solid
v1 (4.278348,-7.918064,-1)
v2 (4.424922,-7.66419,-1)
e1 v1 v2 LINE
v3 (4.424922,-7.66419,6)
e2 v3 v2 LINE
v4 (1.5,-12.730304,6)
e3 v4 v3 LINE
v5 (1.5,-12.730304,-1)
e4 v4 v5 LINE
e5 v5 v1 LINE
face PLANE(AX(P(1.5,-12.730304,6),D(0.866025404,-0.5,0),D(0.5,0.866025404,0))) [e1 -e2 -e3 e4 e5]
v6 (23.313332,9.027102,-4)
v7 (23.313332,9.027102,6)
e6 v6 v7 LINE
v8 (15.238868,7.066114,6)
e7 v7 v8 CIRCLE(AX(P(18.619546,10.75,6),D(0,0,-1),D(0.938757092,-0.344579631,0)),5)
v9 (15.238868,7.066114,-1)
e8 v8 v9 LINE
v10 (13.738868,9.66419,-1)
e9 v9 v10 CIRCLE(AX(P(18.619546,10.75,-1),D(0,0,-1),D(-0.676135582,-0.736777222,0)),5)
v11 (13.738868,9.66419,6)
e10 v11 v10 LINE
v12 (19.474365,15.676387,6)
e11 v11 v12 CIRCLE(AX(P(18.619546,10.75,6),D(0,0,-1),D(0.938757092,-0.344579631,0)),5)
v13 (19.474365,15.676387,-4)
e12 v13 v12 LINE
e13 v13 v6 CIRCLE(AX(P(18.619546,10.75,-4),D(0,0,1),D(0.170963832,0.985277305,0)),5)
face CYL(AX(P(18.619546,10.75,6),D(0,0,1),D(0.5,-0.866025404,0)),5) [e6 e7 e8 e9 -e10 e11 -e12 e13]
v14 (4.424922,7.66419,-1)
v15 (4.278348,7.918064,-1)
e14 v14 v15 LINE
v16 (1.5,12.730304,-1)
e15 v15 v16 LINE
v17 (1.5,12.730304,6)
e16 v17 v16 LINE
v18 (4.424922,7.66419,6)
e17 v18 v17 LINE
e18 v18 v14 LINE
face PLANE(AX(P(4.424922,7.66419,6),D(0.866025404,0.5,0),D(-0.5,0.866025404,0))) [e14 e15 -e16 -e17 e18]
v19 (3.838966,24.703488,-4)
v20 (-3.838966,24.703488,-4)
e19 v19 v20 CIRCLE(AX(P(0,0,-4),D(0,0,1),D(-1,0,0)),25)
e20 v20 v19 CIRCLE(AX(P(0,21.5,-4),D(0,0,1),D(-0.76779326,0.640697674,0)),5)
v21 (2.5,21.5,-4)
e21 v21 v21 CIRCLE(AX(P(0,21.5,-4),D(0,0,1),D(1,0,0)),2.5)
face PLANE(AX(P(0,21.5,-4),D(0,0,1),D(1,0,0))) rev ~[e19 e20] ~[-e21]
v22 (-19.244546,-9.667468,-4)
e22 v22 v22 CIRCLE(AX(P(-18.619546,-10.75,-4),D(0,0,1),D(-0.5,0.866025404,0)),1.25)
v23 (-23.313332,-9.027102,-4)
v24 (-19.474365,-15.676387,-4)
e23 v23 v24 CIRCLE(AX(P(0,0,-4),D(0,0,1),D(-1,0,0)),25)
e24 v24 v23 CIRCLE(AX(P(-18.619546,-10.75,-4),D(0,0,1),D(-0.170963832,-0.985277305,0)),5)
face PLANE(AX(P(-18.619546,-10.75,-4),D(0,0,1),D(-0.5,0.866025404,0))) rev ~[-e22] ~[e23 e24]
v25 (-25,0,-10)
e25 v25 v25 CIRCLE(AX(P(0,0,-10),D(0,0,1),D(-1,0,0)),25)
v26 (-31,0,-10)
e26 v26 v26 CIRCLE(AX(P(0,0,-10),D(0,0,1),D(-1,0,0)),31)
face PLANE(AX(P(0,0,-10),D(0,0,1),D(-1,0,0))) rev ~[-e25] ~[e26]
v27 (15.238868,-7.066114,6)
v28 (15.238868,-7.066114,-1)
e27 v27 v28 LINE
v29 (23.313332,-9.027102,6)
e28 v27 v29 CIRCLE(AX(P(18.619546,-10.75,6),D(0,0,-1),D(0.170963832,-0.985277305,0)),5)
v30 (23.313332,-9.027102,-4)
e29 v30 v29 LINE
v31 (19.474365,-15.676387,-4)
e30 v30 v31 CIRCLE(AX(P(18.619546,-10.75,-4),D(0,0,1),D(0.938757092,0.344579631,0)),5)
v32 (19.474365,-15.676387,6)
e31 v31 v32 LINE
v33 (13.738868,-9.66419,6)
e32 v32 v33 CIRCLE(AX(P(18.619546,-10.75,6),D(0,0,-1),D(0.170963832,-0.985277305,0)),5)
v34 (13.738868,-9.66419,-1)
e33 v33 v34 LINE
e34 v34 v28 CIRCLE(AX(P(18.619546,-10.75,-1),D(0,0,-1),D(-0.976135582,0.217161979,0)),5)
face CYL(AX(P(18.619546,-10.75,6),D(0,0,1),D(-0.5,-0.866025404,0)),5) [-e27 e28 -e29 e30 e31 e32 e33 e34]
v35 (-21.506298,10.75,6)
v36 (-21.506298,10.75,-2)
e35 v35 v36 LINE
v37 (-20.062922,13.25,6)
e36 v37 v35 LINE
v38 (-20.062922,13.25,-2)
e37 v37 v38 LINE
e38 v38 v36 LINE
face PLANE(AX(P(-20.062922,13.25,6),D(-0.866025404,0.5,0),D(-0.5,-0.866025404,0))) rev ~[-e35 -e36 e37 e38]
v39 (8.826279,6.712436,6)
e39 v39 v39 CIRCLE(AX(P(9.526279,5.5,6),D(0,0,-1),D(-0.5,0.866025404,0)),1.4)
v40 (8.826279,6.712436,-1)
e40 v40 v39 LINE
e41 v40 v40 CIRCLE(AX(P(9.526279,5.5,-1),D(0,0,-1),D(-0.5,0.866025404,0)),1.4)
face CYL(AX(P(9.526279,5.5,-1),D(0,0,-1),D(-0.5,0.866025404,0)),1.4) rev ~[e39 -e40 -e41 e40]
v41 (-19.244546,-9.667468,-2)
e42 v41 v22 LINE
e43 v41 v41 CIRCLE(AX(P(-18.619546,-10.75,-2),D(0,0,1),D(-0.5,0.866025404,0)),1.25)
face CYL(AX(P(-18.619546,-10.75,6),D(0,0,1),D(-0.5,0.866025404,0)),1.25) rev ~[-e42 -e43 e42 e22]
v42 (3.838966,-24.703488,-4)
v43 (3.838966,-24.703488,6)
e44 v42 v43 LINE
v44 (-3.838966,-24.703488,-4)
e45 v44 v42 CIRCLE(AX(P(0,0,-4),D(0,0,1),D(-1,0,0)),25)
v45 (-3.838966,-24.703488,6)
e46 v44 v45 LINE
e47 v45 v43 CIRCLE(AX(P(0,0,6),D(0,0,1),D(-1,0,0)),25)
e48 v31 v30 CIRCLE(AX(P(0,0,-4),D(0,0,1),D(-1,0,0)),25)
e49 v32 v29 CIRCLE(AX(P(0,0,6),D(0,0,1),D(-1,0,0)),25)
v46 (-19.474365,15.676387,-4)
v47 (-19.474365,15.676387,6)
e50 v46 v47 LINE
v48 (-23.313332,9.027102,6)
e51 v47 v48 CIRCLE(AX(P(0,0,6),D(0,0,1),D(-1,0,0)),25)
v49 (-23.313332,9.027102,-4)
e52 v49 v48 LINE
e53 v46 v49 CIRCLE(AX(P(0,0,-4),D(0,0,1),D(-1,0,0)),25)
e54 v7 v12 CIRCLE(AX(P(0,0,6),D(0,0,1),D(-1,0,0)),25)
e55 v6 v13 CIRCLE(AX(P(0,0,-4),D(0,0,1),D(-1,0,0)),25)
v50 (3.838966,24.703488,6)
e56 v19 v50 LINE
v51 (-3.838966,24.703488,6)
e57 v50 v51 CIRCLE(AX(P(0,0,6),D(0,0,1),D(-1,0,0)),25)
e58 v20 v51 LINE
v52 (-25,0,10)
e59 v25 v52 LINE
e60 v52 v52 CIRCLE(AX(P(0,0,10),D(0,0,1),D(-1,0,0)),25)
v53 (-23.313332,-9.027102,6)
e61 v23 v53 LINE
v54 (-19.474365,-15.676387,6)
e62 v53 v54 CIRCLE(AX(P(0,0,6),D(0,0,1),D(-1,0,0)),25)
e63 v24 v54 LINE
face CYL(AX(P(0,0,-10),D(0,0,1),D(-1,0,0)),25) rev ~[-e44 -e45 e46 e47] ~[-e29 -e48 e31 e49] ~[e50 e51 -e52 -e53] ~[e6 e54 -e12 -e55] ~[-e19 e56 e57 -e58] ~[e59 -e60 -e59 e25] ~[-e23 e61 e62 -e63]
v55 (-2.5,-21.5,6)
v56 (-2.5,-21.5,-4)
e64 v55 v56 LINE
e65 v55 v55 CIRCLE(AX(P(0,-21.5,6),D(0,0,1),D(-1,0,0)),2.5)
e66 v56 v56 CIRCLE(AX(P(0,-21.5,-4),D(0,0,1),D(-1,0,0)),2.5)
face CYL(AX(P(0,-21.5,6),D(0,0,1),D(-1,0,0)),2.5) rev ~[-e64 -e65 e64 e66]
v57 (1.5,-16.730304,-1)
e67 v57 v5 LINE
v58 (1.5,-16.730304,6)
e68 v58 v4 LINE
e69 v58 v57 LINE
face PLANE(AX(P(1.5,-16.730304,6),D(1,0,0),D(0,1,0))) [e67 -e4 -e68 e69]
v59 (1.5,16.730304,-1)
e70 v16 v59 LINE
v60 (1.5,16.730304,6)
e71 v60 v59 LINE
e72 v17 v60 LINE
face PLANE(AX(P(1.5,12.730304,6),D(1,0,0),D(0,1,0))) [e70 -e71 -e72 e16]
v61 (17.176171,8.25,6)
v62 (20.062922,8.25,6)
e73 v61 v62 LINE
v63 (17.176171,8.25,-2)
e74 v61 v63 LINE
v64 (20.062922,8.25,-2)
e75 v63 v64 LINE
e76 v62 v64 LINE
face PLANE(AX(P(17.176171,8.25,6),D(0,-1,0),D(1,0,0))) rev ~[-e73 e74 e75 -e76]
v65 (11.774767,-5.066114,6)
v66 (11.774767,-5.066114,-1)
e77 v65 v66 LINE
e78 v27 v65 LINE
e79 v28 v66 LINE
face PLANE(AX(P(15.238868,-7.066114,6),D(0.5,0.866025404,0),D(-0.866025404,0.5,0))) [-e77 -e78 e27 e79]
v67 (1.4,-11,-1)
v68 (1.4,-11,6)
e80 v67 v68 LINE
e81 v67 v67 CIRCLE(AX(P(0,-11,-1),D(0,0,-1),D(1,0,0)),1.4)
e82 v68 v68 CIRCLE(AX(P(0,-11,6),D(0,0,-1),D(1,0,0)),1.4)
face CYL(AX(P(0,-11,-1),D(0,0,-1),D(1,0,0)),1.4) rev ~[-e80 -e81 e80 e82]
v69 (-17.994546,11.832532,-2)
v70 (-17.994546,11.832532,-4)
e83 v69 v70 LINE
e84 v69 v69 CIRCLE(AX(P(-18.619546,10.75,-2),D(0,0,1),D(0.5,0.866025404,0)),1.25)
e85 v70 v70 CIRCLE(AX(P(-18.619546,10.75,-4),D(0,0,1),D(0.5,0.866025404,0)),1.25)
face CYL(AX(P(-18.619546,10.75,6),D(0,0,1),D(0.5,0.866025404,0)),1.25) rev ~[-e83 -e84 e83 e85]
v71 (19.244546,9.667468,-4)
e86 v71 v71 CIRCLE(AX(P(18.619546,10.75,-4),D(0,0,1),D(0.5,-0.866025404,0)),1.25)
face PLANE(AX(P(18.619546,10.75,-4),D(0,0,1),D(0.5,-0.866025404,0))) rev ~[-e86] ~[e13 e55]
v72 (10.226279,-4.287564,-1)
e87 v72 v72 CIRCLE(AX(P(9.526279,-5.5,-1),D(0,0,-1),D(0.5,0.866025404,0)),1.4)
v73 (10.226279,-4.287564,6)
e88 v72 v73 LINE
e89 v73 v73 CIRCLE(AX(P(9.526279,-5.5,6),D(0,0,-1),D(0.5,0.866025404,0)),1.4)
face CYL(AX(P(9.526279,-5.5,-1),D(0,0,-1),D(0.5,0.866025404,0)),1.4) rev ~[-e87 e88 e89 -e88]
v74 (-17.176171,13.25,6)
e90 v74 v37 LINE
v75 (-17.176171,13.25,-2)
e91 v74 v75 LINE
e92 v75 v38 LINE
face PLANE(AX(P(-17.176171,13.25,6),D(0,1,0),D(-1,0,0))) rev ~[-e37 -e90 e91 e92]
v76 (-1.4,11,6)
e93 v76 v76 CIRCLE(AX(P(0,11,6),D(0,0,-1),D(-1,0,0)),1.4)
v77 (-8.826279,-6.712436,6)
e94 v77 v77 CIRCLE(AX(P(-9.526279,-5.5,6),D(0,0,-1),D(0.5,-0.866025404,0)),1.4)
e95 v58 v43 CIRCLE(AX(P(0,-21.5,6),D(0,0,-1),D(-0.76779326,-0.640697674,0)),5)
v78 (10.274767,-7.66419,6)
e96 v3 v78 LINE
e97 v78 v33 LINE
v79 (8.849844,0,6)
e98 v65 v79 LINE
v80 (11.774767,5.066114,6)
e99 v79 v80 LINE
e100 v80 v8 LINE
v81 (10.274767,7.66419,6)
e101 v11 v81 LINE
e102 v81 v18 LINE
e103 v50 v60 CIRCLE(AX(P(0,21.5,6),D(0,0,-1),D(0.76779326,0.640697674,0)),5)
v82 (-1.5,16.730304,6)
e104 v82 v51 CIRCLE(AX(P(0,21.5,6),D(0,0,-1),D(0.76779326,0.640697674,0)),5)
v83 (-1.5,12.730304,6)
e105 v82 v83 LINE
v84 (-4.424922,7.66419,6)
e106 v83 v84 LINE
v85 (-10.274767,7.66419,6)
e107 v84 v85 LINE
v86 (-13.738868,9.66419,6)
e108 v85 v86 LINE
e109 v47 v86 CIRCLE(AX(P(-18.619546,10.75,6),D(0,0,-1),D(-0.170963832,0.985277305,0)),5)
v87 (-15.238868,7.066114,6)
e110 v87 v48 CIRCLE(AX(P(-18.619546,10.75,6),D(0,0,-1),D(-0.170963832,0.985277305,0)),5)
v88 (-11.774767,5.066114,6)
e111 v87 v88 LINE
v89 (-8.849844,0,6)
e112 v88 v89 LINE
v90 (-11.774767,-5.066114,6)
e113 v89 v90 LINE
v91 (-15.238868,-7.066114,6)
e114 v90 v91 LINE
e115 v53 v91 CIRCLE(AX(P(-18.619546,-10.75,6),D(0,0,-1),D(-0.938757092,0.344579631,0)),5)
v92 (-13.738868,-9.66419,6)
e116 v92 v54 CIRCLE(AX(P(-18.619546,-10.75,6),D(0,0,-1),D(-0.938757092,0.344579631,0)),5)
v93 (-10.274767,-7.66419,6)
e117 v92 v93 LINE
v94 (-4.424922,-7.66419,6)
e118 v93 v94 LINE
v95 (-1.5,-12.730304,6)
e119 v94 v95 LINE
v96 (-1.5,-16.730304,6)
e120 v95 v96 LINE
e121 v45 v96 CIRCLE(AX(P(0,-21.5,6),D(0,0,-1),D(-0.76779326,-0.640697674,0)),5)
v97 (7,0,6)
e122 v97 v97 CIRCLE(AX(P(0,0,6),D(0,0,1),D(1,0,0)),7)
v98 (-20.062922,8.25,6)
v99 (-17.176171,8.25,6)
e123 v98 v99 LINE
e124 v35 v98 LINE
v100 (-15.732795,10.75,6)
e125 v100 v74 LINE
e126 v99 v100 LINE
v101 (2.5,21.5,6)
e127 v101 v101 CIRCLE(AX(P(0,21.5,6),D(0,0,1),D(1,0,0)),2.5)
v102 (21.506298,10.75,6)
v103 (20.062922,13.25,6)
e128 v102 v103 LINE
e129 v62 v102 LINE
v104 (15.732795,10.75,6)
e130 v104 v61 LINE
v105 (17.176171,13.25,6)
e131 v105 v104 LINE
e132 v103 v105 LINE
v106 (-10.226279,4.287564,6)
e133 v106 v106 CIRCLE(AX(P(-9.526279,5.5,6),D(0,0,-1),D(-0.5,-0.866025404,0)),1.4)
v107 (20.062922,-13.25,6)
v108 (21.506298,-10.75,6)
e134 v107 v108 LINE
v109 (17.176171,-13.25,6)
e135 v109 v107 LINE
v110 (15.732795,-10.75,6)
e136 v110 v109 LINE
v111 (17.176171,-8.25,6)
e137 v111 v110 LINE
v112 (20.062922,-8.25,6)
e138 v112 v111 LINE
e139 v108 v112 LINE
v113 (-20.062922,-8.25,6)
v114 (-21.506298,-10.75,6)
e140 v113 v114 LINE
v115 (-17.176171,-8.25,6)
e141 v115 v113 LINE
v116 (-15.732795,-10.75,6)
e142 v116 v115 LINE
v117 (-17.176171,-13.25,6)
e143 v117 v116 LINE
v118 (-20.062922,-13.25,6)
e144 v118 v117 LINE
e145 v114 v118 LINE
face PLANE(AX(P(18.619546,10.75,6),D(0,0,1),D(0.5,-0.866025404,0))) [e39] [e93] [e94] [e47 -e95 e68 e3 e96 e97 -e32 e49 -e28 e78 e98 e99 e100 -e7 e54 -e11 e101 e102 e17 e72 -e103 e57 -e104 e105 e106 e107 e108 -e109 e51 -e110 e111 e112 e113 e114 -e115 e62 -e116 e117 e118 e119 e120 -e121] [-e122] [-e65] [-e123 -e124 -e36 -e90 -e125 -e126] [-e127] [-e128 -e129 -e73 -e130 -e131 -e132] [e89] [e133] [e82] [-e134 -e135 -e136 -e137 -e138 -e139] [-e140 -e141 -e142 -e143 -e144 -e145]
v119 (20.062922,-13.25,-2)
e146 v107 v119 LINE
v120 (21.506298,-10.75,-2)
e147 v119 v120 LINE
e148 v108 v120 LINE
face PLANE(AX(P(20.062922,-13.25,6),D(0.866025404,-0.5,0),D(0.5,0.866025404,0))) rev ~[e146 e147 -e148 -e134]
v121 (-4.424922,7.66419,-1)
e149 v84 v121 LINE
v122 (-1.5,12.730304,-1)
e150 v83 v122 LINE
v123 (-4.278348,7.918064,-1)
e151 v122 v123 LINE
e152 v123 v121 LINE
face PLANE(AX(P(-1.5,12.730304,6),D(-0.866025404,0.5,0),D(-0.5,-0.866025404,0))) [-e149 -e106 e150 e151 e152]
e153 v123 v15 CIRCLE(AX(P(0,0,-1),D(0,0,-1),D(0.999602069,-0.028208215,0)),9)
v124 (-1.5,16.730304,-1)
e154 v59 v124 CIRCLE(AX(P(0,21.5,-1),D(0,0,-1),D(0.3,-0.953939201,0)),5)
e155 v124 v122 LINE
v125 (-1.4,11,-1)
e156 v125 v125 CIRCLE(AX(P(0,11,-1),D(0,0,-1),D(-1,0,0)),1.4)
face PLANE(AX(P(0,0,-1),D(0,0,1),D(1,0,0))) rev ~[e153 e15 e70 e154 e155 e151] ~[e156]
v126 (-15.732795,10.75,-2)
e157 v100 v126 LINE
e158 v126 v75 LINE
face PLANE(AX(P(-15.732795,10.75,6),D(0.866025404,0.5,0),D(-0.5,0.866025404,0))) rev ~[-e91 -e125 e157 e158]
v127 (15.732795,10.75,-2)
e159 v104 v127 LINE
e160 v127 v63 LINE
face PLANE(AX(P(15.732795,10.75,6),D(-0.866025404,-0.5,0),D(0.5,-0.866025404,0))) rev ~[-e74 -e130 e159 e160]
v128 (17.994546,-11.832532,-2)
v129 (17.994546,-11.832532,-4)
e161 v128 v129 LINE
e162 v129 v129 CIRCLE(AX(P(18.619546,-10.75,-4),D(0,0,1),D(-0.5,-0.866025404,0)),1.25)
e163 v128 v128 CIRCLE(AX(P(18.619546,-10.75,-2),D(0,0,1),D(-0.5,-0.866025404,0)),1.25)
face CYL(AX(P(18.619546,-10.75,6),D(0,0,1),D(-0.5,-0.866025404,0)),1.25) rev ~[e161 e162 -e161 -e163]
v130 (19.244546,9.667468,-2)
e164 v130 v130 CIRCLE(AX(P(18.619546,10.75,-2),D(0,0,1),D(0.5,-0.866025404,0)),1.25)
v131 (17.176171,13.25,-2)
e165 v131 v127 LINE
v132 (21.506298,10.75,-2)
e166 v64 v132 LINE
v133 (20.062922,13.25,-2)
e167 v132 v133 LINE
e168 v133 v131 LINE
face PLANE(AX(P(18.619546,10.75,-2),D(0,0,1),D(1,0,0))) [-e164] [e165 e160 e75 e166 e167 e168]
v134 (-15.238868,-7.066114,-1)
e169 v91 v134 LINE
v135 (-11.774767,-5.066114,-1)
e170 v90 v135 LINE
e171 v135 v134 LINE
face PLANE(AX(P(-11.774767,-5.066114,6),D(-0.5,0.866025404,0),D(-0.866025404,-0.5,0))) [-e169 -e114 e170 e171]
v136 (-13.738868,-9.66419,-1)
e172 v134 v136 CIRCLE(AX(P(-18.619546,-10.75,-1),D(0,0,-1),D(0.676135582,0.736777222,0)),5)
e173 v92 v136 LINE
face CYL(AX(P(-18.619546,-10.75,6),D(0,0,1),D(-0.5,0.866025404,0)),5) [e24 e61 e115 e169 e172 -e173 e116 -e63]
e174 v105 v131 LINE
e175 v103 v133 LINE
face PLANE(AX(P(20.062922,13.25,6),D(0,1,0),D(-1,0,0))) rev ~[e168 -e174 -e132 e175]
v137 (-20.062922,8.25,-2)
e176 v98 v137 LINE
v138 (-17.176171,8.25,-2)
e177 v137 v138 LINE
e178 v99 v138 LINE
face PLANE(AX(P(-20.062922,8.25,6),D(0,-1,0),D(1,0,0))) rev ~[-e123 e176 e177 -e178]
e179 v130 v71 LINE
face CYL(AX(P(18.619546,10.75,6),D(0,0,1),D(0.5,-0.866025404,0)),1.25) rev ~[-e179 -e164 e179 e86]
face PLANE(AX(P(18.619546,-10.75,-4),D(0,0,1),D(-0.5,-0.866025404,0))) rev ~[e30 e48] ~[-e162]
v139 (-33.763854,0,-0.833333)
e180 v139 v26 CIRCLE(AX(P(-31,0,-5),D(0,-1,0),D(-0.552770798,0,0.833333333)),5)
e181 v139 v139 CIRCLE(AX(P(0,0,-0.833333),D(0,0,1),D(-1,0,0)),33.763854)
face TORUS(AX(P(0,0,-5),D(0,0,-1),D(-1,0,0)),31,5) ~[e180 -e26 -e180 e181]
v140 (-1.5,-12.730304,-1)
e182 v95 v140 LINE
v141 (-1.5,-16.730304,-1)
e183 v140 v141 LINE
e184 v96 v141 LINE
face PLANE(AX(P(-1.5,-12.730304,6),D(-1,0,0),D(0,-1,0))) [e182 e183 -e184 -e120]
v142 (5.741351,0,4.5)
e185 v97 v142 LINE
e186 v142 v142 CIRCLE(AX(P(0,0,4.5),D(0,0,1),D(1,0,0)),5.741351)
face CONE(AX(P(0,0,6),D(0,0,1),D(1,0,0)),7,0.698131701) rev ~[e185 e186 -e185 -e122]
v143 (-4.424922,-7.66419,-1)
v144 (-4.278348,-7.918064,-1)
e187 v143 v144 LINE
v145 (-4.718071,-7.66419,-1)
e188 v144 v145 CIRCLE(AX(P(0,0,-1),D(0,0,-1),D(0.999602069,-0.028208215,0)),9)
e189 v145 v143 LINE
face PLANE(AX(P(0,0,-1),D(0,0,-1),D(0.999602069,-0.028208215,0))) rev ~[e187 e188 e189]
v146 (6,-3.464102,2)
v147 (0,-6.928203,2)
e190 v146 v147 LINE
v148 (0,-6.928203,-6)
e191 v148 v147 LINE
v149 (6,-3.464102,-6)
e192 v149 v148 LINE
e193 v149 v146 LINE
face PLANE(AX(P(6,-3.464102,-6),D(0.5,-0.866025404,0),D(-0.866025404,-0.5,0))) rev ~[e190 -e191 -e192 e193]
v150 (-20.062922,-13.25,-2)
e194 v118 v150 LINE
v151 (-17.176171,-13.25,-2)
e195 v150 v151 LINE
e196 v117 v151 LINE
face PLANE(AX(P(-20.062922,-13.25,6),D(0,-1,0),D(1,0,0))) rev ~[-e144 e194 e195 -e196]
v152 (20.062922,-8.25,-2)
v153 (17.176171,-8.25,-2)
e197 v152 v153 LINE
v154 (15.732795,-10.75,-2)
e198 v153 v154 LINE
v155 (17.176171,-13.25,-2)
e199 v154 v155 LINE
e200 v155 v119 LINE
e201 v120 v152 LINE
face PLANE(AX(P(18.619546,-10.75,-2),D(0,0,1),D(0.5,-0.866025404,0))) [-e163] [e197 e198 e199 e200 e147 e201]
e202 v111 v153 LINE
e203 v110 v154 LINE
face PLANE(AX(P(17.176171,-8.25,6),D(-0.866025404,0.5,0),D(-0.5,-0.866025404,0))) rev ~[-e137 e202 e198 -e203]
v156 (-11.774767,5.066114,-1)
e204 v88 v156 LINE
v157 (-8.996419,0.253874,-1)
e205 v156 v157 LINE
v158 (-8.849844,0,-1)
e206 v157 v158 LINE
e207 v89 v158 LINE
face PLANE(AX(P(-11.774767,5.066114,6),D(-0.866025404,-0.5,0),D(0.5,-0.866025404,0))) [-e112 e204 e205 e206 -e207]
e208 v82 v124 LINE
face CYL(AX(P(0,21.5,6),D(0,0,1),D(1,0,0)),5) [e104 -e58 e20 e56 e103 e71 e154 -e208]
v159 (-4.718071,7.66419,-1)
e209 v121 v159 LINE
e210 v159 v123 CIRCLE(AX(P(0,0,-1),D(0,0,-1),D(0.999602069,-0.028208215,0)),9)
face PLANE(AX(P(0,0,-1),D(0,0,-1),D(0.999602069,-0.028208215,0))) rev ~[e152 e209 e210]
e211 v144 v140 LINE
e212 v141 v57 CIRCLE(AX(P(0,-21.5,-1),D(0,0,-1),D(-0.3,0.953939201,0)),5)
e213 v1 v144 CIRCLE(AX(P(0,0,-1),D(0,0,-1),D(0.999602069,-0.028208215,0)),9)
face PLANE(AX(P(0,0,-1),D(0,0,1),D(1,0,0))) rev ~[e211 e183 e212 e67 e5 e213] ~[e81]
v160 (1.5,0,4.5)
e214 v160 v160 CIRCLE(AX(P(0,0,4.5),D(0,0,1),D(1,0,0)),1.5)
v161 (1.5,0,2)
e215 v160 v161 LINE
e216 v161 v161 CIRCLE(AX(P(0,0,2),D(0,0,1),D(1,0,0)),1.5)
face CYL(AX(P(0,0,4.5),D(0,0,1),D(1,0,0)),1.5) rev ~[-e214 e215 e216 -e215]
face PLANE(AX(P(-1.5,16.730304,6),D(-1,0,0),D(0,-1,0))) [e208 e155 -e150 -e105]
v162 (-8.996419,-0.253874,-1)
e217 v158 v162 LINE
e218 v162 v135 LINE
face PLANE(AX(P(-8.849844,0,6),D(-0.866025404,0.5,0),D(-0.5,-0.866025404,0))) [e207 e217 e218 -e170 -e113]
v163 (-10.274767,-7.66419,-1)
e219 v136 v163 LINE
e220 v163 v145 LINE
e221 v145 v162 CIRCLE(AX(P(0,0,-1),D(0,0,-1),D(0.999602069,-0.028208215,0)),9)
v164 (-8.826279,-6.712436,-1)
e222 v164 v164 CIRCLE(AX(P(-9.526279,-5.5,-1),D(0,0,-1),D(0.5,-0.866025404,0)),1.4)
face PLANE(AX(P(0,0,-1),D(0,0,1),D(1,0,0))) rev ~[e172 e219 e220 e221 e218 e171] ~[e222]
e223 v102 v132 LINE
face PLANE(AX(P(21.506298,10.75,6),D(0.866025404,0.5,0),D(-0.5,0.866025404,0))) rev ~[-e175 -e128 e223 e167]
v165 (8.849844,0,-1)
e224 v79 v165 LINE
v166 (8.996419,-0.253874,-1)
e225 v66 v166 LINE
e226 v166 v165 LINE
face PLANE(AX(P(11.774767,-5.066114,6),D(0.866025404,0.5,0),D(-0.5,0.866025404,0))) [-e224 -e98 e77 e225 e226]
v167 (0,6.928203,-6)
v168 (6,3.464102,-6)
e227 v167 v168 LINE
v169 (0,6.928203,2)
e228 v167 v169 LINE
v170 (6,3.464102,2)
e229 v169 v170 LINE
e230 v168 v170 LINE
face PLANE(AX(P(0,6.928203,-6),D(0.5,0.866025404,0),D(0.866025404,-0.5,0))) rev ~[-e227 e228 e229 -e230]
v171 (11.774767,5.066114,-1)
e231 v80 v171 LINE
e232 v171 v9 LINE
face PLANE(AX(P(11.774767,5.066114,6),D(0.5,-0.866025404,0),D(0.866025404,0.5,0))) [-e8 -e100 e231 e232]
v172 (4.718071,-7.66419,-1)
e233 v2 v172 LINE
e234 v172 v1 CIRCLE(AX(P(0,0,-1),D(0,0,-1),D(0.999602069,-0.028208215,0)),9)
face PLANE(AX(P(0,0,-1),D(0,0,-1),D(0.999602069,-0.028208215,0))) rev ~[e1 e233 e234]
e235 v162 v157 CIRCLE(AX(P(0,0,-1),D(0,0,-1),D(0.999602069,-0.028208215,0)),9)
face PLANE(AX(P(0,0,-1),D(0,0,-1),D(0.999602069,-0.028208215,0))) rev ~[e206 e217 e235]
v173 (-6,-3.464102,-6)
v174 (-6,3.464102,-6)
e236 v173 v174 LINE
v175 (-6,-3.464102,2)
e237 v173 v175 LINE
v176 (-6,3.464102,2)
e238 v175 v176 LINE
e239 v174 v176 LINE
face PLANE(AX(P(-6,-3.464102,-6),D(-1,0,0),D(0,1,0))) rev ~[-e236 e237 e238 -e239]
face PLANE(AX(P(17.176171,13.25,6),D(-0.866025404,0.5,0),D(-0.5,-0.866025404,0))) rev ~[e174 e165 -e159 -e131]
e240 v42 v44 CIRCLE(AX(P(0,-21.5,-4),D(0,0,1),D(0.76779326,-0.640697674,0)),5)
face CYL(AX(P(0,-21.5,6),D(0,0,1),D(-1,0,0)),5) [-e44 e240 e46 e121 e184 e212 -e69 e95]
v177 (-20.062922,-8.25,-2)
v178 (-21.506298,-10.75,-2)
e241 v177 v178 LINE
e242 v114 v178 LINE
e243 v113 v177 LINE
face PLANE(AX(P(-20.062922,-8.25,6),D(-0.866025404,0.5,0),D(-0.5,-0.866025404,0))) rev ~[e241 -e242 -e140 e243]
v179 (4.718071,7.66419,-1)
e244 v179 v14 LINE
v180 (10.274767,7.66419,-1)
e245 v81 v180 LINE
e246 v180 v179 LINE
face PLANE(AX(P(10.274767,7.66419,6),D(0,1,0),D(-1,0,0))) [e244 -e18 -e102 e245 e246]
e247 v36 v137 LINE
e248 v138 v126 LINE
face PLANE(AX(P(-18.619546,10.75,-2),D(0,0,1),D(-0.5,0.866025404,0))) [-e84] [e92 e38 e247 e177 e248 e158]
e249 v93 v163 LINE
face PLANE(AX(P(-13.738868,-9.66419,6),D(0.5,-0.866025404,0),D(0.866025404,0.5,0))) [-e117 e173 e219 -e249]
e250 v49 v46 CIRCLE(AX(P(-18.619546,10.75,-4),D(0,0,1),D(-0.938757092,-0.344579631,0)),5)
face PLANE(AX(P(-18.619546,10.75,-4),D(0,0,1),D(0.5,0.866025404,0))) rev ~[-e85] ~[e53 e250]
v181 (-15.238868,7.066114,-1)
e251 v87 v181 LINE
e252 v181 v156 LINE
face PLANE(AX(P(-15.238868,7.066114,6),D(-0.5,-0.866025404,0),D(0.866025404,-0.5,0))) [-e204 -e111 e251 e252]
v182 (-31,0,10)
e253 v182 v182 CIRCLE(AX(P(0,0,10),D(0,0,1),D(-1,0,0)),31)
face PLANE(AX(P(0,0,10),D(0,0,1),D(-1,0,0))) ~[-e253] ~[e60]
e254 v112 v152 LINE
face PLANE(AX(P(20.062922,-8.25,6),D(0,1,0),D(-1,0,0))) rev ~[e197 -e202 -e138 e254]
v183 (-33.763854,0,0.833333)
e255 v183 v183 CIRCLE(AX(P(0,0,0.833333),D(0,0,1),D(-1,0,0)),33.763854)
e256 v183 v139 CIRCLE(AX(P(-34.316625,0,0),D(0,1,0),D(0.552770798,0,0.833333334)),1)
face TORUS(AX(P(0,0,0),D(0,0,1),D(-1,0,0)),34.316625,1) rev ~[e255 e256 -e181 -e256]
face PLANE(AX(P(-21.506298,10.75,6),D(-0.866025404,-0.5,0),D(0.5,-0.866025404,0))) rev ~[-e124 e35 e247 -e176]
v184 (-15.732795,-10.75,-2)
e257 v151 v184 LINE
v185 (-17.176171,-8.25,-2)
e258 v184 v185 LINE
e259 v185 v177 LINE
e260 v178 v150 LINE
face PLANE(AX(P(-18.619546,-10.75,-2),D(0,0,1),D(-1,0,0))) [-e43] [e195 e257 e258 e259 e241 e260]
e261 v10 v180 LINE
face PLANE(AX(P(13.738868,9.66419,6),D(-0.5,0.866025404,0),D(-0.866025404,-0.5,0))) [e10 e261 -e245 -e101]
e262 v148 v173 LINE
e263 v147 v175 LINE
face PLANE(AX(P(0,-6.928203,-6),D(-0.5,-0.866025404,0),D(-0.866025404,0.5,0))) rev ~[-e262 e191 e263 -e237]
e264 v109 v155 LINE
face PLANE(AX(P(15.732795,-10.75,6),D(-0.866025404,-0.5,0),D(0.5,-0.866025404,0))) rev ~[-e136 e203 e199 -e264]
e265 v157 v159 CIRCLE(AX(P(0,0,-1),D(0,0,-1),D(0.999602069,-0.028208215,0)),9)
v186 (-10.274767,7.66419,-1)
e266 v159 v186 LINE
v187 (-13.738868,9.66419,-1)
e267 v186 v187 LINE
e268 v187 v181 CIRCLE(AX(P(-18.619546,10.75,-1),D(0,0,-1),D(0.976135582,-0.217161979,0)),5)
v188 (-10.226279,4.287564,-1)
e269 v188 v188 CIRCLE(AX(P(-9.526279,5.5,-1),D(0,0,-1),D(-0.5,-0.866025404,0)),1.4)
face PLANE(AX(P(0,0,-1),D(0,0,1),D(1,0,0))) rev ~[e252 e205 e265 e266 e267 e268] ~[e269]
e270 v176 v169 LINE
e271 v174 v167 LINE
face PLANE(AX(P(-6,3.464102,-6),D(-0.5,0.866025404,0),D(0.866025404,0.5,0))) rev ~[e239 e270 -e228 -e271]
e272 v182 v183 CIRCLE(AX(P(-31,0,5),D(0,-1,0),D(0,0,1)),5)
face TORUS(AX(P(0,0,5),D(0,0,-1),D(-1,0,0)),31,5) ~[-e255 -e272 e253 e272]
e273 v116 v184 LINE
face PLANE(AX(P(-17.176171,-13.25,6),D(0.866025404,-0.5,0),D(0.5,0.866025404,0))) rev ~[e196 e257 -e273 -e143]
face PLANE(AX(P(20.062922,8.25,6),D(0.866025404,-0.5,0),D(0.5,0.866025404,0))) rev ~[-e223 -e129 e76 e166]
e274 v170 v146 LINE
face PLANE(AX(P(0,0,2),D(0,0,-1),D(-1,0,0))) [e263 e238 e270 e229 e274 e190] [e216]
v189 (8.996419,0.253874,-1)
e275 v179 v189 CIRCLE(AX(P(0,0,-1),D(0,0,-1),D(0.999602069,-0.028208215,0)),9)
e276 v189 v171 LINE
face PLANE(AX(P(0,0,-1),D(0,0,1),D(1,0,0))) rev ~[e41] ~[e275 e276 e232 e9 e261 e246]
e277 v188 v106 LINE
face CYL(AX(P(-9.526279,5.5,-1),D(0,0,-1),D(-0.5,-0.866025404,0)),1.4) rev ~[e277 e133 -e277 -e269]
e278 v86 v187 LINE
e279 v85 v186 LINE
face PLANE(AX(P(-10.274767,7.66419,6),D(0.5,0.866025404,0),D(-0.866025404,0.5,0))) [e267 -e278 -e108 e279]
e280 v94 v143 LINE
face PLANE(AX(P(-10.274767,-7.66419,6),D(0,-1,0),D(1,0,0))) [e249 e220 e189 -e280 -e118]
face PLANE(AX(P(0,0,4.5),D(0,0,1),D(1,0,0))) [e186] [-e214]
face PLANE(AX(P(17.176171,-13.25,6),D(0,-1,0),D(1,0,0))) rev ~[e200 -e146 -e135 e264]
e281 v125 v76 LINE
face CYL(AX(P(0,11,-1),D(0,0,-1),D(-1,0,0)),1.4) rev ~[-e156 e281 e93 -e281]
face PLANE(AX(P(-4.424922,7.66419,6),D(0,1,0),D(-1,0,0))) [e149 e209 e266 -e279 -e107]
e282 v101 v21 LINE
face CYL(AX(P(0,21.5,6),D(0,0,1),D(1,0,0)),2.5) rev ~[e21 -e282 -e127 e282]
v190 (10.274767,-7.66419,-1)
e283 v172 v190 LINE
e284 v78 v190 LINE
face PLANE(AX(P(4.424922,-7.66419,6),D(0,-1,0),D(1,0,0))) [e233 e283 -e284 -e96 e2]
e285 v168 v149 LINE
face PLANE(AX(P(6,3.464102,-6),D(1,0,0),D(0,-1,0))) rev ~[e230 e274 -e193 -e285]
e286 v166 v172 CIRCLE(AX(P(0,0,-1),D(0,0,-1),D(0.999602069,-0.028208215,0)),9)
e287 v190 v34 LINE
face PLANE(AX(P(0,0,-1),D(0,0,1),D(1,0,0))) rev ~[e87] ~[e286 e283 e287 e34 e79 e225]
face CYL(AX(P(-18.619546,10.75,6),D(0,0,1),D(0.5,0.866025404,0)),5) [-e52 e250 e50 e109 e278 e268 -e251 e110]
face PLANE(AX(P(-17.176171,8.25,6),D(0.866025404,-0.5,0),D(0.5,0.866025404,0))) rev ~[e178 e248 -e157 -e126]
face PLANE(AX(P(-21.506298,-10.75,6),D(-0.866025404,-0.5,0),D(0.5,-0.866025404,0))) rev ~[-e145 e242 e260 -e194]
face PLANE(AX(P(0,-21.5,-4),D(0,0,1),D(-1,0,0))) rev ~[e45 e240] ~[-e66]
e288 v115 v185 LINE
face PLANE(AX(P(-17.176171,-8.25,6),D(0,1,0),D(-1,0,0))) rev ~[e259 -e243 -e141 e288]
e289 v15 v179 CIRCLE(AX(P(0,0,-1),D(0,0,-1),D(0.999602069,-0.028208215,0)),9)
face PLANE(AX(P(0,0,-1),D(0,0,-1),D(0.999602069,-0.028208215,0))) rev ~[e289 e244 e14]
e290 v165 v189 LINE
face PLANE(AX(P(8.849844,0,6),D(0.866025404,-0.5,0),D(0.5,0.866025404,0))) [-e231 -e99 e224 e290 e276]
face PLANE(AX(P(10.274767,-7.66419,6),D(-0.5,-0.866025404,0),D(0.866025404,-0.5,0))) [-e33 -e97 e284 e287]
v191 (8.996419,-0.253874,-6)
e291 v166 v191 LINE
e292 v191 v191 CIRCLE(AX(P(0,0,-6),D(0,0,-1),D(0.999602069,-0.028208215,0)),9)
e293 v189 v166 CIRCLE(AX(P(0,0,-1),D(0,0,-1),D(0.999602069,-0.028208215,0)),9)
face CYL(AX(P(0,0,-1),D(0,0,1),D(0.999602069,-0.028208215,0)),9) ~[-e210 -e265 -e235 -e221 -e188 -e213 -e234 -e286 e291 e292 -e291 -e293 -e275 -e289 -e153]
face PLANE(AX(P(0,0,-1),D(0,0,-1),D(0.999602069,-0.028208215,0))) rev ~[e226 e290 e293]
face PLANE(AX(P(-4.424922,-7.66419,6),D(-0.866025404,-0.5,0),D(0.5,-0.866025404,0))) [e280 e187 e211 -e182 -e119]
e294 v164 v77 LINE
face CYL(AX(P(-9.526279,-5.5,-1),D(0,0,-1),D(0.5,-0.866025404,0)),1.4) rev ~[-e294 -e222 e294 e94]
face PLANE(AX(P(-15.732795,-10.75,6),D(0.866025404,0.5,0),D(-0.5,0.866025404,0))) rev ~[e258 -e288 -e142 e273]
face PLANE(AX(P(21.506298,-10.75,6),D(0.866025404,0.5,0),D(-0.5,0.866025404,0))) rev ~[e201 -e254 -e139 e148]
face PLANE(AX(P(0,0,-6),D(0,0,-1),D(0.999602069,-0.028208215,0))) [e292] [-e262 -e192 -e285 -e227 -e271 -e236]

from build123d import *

# Parameters (mm, degrees)
SKETCH_2_R               = 5
EXTRUDE_1_DEPTH          = 10
PATTERN_CIRCULAR_1_COUNT = 6
EXTRUDE_2_DEPTH          = 7
SKETCH_4_R               = 1.4
CUT_EXTRUDE_1_DEPTH      = 53.086466711
PATTERN_CIRCULAR_2_COUNT = 6
SKETCH_5_R               = 9
EXTRUDE_3_DEPTH          = 5
SKETCH_7_R               = 7
CUT_EXTRUDE_3_DEPTH      = 1.5
CUT_EXTRUDE_3_DRAFT      = -40
SKETCH_8_R               = 1.5
CUT_EXTRUDE_4_DEPTH      = 53.93628259
SKETCH_10_R              = 1.25
CUT_EXTRUDE_6_DEPTH      = 54.366656391
PATTERN_CIRCULAR_3_COUNT = 6
SKETCH_11_R              = 2.5
CUT_EXTRUDE_7_DEPTH      = 54.366656391
PATTERN_CIRCULAR_4_COUNT = 2
CUT_EXTRUDE_8_DEPTH      = 8
PATTERN_CIRCULAR_5_COUNT = 6
CUT_EXTRUDE_9_DEPTH      = 8


with BuildPart() as part:
    # 草图1 → 旋转1 (revolve)
    with BuildSketch(Plane(origin=(0, 0, 0), x_dir=(1, 0, 0), z_dir=(0, 1, 0)), mode=Mode.PRIVATE) as revolve_1_sk:
        with BuildLine():
            Line((25, 10), (25, -10))
            Line((25, -10), (31, -10))
            ThreePointArc((31, -10), (35.787135539, -6.443375673), (33.763853992, -0.833333333))
            ThreePointArc((33.763853992, -0.833333333), (33.31662479, 0), (33.763853992, 0.833333333))
            ThreePointArc((33.763853992, 0.833333333), (35.787135539, 6.443375673), (31, 10))
            Line((31, 10), (25, 10))
        make_face()
    revolve(revolve_1_sk.sketch.rotate(Axis((0, 0, -146.934042126), (0, 0, 1)), 180), axis=Axis((0, 0, -146.934042126), (0, 0, 1)))

    # 草图2 → 凸台-拉伸1 (add)
    with BuildSketch(Plane.XY.offset(6)):
        with Locations((0, 21.5)):
            Circle(SKETCH_2_R)
    extrude_1 = extrude(amount=-EXTRUDE_1_DEPTH)

    # 阵列(圆周)1: 凸台-拉伸1 ×6 about axis
    pattern_circular_1_axis = Axis((0, 0, 0), (0, 0, 1))
    for i in range(1, PATTERN_CIRCULAR_1_COUNT):
        add(extrude_1.rotate(pattern_circular_1_axis, i * 360 / PATTERN_CIRCULAR_1_COUNT))

    # 草图3 → 凸台-拉伸2 (add)
    with BuildSketch(Plane.XY.offset(6)):
        with BuildLine():
            Line((-8.849844437, 0), (-11.774766656, -5.066113891))
            Line((-11.774766656, -5.066113891), (-15.238868271, -7.066113891))
            ThreePointArc((-15.238868271, -7.066113891), (-14.289419162, -8.25), (-13.738868271, -9.664190102))
            Line((-13.738868271, -9.664190102), (-10.274766656, -7.664190102))
            Line((-10.274766656, -7.664190102), (-4.424922219, -7.664190102))
            Line((-4.424922219, -7.664190102), (-1.5, -12.730303993))
            Line((-1.5, -12.730303993), (-1.5, -16.730303993))
            ThreePointArc((-1.5, -16.730303993), (0, -16.5), (1.5, -16.730303993))
            Line((1.5, -16.730303993), (1.5, -12.730303993))
            Line((1.5, -12.730303993), (4.424922219, -7.664190102))
            Line((4.424922219, -7.664190102), (10.274766656, -7.664190102))
            Line((10.274766656, -7.664190102), (13.738868271, -9.664190102))
            ThreePointArc((13.738868271, -9.664190102), (14.289419162, -8.25), (15.238868271, -7.066113891))
            Line((15.238868271, -7.066113891), (11.774766656, -5.066113891))
            Line((11.774766656, -5.066113891), (8.849844437, 0))
            Line((8.849844437, 0), (11.774766656, 5.066113891))
            Line((11.774766656, 5.066113891), (15.238868271, 7.066113891))
            ThreePointArc((15.238868271, 7.066113891), (14.289419162, 8.25), (13.738868271, 9.664190102))
            Line((13.738868271, 9.664190102), (10.274766656, 7.664190102))
            Line((10.274766656, 7.664190102), (4.424922219, 7.664190102))
            Line((4.424922219, 7.664190102), (1.5, 12.730303993))
            Line((1.5, 12.730303993), (1.5, 16.730303993))
            ThreePointArc((1.5, 16.730303993), (0, 16.5), (-1.5, 16.730303993))
            Line((-1.5, 16.730303993), (-1.5, 12.730303993))
            Line((-1.5, 12.730303993), (-4.424922219, 7.664190102))
            Line((-4.424922219, 7.664190102), (-10.274766656, 7.664190102))
            Line((-10.274766656, 7.664190102), (-13.738868271, 9.664190102))
            ThreePointArc((-13.738868271, 9.664190102), (-14.289419162, 8.25), (-15.238868271, 7.066113891))
            Line((-15.238868271, 7.066113891), (-11.774766656, 5.066113891))
            Line((-11.774766656, 5.066113891), (-8.849844437, 0))
        make_face()
    extrude(amount=-EXTRUDE_2_DEPTH)

    # 草图4 → 切除-拉伸1 (cut, through all)
    with BuildSketch(Plane(origin=(0, 0, -1), x_dir=(-1, 0, 0), z_dir=(0, 0, -1))):
        with Locations((0, 11)):
            Circle(SKETCH_4_R)
    cut_extrude_1 = extrude(amount=-CUT_EXTRUDE_1_DEPTH, mode=Mode.SUBTRACT)

    # 阵列(圆周)2: 切除-拉伸1 ×6 about axis
    pattern_circular_2_axis = Axis((0, 0, 0), (0, 0, 1))
    for i in range(1, PATTERN_CIRCULAR_2_COUNT):
        add(cut_extrude_1.rotate(pattern_circular_2_axis, i * 360 / PATTERN_CIRCULAR_2_COUNT), mode=Mode.SUBTRACT)

    # 草图5 → 凸台-拉伸3 (add)
    with BuildSketch(Plane(origin=(0, 0, -1), x_dir=(-1, 0, 0), z_dir=(0, 0, -1))):
        with Locations(Location((0, 0, 0), (0, 0, 181.616426084))):
            Circle(SKETCH_5_R)
    extrude(amount=EXTRUDE_3_DEPTH)


with BuildPart() as cut_extrude_3_tool:
    # 草图7 → 切除-拉伸3 (with draft: the straight prism first)
    with BuildSketch(Plane.XY.offset(6)):
        Circle(SKETCH_7_R)
    extrude(amount=-CUT_EXTRUDE_3_DEPTH)
    # 切除-拉伸3: the draft: its side faces are tilted about the plane it starts from
    cut_extrude_3_sides = [cut_extrude_3_tool.faces().sort_by_distance(p)[0] for p in [
        (-7, 0, 5.25),
    ]]
    draft(cut_extrude_3_sides, Plane.XY.offset(6), CUT_EXTRUDE_3_DRAFT)


with BuildPart() as part_1:
    add(part.part)

    # 切除-拉伸3: cut by cut_extrude_3_tool
    add(cut_extrude_3_tool.part, mode=Mode.SUBTRACT)

    # 草图8 → 切除-拉伸4 (cut, through all)
    with BuildSketch(Plane.XY.offset(4.5)):
        Circle(SKETCH_8_R)
    extrude(amount=-CUT_EXTRUDE_4_DEPTH, mode=Mode.SUBTRACT)

    # 草图10 → 切除-拉伸6 (cut, through all)
    with BuildSketch(Plane.XY.offset(6)):
        with Locations((0, 21.5)):
            Circle(SKETCH_10_R)
    cut_extrude_6 = extrude(amount=-CUT_EXTRUDE_6_DEPTH, mode=Mode.SUBTRACT)

    # 阵列(圆周)3: 切除-拉伸6 ×6 about axis
    pattern_circular_3_axis = Axis((0, 0, 0), (0, 0, 1))
    for i in range(1, PATTERN_CIRCULAR_3_COUNT):
        add(cut_extrude_6.rotate(pattern_circular_3_axis, i * 360 / PATTERN_CIRCULAR_3_COUNT), mode=Mode.SUBTRACT)

    # 草图11 → 切除-拉伸7 (cut, through all)
    with BuildSketch(Plane.XY.offset(6)):
        with Locations((0, 21.5)):
            Circle(SKETCH_11_R)
    cut_extrude_7 = extrude(amount=-CUT_EXTRUDE_7_DEPTH, mode=Mode.SUBTRACT)

    # 阵列(圆周)4: 切除-拉伸7 ×2 about axis
    pattern_circular_4_axis = Axis((0, 0, 0), (0, 0, 1))
    for i in range(1, PATTERN_CIRCULAR_4_COUNT):
        add(cut_extrude_7.rotate(pattern_circular_4_axis, i * 360 / PATTERN_CIRCULAR_4_COUNT), mode=Mode.SUBTRACT)

    # 草图12 → 切除-拉伸8 (cut)
    with BuildSketch(Plane.XY.offset(6)):
        Polygon((20.062921854, 8.25), (21.506297527, 10.75), (20.062921854, 13.25), (17.176170508, 13.25), (15.732794835, 10.75), (17.176170508, 8.25), align=None)
    cut_extrude_8 = extrude(amount=-CUT_EXTRUDE_8_DEPTH, mode=Mode.SUBTRACT)

    # 阵列(圆周)5: 切除-拉伸8 ×6 about axis, 2 skipped
    pattern_circular_5_axis = Axis((0, 0, 0), (0, 0, -1))
    add([cut_extrude_8.rotate(pattern_circular_5_axis, i * 360 / PATTERN_CIRCULAR_5_COUNT) for i in range(1, PATTERN_CIRCULAR_5_COUNT) if i not in (2, 5)], mode=Mode.SUBTRACT)

    # 草图14 → 切除-拉伸9 (cut)
    with BuildSketch(Plane(origin=(0, 0, -6), x_dir=(-1, 0, 0), z_dir=(0, 0, -1))):
        Polygon((0, 6.92820323), (-6, 3.464101615), (-6, -3.464101615), (0, -6.92820323), (6, -3.464101615), (6, 3.464101615), align=None)
    extrude(amount=-CUT_EXTRUDE_9_DEPTH, mode=Mode.SUBTRACT)


solid = part_1.part
